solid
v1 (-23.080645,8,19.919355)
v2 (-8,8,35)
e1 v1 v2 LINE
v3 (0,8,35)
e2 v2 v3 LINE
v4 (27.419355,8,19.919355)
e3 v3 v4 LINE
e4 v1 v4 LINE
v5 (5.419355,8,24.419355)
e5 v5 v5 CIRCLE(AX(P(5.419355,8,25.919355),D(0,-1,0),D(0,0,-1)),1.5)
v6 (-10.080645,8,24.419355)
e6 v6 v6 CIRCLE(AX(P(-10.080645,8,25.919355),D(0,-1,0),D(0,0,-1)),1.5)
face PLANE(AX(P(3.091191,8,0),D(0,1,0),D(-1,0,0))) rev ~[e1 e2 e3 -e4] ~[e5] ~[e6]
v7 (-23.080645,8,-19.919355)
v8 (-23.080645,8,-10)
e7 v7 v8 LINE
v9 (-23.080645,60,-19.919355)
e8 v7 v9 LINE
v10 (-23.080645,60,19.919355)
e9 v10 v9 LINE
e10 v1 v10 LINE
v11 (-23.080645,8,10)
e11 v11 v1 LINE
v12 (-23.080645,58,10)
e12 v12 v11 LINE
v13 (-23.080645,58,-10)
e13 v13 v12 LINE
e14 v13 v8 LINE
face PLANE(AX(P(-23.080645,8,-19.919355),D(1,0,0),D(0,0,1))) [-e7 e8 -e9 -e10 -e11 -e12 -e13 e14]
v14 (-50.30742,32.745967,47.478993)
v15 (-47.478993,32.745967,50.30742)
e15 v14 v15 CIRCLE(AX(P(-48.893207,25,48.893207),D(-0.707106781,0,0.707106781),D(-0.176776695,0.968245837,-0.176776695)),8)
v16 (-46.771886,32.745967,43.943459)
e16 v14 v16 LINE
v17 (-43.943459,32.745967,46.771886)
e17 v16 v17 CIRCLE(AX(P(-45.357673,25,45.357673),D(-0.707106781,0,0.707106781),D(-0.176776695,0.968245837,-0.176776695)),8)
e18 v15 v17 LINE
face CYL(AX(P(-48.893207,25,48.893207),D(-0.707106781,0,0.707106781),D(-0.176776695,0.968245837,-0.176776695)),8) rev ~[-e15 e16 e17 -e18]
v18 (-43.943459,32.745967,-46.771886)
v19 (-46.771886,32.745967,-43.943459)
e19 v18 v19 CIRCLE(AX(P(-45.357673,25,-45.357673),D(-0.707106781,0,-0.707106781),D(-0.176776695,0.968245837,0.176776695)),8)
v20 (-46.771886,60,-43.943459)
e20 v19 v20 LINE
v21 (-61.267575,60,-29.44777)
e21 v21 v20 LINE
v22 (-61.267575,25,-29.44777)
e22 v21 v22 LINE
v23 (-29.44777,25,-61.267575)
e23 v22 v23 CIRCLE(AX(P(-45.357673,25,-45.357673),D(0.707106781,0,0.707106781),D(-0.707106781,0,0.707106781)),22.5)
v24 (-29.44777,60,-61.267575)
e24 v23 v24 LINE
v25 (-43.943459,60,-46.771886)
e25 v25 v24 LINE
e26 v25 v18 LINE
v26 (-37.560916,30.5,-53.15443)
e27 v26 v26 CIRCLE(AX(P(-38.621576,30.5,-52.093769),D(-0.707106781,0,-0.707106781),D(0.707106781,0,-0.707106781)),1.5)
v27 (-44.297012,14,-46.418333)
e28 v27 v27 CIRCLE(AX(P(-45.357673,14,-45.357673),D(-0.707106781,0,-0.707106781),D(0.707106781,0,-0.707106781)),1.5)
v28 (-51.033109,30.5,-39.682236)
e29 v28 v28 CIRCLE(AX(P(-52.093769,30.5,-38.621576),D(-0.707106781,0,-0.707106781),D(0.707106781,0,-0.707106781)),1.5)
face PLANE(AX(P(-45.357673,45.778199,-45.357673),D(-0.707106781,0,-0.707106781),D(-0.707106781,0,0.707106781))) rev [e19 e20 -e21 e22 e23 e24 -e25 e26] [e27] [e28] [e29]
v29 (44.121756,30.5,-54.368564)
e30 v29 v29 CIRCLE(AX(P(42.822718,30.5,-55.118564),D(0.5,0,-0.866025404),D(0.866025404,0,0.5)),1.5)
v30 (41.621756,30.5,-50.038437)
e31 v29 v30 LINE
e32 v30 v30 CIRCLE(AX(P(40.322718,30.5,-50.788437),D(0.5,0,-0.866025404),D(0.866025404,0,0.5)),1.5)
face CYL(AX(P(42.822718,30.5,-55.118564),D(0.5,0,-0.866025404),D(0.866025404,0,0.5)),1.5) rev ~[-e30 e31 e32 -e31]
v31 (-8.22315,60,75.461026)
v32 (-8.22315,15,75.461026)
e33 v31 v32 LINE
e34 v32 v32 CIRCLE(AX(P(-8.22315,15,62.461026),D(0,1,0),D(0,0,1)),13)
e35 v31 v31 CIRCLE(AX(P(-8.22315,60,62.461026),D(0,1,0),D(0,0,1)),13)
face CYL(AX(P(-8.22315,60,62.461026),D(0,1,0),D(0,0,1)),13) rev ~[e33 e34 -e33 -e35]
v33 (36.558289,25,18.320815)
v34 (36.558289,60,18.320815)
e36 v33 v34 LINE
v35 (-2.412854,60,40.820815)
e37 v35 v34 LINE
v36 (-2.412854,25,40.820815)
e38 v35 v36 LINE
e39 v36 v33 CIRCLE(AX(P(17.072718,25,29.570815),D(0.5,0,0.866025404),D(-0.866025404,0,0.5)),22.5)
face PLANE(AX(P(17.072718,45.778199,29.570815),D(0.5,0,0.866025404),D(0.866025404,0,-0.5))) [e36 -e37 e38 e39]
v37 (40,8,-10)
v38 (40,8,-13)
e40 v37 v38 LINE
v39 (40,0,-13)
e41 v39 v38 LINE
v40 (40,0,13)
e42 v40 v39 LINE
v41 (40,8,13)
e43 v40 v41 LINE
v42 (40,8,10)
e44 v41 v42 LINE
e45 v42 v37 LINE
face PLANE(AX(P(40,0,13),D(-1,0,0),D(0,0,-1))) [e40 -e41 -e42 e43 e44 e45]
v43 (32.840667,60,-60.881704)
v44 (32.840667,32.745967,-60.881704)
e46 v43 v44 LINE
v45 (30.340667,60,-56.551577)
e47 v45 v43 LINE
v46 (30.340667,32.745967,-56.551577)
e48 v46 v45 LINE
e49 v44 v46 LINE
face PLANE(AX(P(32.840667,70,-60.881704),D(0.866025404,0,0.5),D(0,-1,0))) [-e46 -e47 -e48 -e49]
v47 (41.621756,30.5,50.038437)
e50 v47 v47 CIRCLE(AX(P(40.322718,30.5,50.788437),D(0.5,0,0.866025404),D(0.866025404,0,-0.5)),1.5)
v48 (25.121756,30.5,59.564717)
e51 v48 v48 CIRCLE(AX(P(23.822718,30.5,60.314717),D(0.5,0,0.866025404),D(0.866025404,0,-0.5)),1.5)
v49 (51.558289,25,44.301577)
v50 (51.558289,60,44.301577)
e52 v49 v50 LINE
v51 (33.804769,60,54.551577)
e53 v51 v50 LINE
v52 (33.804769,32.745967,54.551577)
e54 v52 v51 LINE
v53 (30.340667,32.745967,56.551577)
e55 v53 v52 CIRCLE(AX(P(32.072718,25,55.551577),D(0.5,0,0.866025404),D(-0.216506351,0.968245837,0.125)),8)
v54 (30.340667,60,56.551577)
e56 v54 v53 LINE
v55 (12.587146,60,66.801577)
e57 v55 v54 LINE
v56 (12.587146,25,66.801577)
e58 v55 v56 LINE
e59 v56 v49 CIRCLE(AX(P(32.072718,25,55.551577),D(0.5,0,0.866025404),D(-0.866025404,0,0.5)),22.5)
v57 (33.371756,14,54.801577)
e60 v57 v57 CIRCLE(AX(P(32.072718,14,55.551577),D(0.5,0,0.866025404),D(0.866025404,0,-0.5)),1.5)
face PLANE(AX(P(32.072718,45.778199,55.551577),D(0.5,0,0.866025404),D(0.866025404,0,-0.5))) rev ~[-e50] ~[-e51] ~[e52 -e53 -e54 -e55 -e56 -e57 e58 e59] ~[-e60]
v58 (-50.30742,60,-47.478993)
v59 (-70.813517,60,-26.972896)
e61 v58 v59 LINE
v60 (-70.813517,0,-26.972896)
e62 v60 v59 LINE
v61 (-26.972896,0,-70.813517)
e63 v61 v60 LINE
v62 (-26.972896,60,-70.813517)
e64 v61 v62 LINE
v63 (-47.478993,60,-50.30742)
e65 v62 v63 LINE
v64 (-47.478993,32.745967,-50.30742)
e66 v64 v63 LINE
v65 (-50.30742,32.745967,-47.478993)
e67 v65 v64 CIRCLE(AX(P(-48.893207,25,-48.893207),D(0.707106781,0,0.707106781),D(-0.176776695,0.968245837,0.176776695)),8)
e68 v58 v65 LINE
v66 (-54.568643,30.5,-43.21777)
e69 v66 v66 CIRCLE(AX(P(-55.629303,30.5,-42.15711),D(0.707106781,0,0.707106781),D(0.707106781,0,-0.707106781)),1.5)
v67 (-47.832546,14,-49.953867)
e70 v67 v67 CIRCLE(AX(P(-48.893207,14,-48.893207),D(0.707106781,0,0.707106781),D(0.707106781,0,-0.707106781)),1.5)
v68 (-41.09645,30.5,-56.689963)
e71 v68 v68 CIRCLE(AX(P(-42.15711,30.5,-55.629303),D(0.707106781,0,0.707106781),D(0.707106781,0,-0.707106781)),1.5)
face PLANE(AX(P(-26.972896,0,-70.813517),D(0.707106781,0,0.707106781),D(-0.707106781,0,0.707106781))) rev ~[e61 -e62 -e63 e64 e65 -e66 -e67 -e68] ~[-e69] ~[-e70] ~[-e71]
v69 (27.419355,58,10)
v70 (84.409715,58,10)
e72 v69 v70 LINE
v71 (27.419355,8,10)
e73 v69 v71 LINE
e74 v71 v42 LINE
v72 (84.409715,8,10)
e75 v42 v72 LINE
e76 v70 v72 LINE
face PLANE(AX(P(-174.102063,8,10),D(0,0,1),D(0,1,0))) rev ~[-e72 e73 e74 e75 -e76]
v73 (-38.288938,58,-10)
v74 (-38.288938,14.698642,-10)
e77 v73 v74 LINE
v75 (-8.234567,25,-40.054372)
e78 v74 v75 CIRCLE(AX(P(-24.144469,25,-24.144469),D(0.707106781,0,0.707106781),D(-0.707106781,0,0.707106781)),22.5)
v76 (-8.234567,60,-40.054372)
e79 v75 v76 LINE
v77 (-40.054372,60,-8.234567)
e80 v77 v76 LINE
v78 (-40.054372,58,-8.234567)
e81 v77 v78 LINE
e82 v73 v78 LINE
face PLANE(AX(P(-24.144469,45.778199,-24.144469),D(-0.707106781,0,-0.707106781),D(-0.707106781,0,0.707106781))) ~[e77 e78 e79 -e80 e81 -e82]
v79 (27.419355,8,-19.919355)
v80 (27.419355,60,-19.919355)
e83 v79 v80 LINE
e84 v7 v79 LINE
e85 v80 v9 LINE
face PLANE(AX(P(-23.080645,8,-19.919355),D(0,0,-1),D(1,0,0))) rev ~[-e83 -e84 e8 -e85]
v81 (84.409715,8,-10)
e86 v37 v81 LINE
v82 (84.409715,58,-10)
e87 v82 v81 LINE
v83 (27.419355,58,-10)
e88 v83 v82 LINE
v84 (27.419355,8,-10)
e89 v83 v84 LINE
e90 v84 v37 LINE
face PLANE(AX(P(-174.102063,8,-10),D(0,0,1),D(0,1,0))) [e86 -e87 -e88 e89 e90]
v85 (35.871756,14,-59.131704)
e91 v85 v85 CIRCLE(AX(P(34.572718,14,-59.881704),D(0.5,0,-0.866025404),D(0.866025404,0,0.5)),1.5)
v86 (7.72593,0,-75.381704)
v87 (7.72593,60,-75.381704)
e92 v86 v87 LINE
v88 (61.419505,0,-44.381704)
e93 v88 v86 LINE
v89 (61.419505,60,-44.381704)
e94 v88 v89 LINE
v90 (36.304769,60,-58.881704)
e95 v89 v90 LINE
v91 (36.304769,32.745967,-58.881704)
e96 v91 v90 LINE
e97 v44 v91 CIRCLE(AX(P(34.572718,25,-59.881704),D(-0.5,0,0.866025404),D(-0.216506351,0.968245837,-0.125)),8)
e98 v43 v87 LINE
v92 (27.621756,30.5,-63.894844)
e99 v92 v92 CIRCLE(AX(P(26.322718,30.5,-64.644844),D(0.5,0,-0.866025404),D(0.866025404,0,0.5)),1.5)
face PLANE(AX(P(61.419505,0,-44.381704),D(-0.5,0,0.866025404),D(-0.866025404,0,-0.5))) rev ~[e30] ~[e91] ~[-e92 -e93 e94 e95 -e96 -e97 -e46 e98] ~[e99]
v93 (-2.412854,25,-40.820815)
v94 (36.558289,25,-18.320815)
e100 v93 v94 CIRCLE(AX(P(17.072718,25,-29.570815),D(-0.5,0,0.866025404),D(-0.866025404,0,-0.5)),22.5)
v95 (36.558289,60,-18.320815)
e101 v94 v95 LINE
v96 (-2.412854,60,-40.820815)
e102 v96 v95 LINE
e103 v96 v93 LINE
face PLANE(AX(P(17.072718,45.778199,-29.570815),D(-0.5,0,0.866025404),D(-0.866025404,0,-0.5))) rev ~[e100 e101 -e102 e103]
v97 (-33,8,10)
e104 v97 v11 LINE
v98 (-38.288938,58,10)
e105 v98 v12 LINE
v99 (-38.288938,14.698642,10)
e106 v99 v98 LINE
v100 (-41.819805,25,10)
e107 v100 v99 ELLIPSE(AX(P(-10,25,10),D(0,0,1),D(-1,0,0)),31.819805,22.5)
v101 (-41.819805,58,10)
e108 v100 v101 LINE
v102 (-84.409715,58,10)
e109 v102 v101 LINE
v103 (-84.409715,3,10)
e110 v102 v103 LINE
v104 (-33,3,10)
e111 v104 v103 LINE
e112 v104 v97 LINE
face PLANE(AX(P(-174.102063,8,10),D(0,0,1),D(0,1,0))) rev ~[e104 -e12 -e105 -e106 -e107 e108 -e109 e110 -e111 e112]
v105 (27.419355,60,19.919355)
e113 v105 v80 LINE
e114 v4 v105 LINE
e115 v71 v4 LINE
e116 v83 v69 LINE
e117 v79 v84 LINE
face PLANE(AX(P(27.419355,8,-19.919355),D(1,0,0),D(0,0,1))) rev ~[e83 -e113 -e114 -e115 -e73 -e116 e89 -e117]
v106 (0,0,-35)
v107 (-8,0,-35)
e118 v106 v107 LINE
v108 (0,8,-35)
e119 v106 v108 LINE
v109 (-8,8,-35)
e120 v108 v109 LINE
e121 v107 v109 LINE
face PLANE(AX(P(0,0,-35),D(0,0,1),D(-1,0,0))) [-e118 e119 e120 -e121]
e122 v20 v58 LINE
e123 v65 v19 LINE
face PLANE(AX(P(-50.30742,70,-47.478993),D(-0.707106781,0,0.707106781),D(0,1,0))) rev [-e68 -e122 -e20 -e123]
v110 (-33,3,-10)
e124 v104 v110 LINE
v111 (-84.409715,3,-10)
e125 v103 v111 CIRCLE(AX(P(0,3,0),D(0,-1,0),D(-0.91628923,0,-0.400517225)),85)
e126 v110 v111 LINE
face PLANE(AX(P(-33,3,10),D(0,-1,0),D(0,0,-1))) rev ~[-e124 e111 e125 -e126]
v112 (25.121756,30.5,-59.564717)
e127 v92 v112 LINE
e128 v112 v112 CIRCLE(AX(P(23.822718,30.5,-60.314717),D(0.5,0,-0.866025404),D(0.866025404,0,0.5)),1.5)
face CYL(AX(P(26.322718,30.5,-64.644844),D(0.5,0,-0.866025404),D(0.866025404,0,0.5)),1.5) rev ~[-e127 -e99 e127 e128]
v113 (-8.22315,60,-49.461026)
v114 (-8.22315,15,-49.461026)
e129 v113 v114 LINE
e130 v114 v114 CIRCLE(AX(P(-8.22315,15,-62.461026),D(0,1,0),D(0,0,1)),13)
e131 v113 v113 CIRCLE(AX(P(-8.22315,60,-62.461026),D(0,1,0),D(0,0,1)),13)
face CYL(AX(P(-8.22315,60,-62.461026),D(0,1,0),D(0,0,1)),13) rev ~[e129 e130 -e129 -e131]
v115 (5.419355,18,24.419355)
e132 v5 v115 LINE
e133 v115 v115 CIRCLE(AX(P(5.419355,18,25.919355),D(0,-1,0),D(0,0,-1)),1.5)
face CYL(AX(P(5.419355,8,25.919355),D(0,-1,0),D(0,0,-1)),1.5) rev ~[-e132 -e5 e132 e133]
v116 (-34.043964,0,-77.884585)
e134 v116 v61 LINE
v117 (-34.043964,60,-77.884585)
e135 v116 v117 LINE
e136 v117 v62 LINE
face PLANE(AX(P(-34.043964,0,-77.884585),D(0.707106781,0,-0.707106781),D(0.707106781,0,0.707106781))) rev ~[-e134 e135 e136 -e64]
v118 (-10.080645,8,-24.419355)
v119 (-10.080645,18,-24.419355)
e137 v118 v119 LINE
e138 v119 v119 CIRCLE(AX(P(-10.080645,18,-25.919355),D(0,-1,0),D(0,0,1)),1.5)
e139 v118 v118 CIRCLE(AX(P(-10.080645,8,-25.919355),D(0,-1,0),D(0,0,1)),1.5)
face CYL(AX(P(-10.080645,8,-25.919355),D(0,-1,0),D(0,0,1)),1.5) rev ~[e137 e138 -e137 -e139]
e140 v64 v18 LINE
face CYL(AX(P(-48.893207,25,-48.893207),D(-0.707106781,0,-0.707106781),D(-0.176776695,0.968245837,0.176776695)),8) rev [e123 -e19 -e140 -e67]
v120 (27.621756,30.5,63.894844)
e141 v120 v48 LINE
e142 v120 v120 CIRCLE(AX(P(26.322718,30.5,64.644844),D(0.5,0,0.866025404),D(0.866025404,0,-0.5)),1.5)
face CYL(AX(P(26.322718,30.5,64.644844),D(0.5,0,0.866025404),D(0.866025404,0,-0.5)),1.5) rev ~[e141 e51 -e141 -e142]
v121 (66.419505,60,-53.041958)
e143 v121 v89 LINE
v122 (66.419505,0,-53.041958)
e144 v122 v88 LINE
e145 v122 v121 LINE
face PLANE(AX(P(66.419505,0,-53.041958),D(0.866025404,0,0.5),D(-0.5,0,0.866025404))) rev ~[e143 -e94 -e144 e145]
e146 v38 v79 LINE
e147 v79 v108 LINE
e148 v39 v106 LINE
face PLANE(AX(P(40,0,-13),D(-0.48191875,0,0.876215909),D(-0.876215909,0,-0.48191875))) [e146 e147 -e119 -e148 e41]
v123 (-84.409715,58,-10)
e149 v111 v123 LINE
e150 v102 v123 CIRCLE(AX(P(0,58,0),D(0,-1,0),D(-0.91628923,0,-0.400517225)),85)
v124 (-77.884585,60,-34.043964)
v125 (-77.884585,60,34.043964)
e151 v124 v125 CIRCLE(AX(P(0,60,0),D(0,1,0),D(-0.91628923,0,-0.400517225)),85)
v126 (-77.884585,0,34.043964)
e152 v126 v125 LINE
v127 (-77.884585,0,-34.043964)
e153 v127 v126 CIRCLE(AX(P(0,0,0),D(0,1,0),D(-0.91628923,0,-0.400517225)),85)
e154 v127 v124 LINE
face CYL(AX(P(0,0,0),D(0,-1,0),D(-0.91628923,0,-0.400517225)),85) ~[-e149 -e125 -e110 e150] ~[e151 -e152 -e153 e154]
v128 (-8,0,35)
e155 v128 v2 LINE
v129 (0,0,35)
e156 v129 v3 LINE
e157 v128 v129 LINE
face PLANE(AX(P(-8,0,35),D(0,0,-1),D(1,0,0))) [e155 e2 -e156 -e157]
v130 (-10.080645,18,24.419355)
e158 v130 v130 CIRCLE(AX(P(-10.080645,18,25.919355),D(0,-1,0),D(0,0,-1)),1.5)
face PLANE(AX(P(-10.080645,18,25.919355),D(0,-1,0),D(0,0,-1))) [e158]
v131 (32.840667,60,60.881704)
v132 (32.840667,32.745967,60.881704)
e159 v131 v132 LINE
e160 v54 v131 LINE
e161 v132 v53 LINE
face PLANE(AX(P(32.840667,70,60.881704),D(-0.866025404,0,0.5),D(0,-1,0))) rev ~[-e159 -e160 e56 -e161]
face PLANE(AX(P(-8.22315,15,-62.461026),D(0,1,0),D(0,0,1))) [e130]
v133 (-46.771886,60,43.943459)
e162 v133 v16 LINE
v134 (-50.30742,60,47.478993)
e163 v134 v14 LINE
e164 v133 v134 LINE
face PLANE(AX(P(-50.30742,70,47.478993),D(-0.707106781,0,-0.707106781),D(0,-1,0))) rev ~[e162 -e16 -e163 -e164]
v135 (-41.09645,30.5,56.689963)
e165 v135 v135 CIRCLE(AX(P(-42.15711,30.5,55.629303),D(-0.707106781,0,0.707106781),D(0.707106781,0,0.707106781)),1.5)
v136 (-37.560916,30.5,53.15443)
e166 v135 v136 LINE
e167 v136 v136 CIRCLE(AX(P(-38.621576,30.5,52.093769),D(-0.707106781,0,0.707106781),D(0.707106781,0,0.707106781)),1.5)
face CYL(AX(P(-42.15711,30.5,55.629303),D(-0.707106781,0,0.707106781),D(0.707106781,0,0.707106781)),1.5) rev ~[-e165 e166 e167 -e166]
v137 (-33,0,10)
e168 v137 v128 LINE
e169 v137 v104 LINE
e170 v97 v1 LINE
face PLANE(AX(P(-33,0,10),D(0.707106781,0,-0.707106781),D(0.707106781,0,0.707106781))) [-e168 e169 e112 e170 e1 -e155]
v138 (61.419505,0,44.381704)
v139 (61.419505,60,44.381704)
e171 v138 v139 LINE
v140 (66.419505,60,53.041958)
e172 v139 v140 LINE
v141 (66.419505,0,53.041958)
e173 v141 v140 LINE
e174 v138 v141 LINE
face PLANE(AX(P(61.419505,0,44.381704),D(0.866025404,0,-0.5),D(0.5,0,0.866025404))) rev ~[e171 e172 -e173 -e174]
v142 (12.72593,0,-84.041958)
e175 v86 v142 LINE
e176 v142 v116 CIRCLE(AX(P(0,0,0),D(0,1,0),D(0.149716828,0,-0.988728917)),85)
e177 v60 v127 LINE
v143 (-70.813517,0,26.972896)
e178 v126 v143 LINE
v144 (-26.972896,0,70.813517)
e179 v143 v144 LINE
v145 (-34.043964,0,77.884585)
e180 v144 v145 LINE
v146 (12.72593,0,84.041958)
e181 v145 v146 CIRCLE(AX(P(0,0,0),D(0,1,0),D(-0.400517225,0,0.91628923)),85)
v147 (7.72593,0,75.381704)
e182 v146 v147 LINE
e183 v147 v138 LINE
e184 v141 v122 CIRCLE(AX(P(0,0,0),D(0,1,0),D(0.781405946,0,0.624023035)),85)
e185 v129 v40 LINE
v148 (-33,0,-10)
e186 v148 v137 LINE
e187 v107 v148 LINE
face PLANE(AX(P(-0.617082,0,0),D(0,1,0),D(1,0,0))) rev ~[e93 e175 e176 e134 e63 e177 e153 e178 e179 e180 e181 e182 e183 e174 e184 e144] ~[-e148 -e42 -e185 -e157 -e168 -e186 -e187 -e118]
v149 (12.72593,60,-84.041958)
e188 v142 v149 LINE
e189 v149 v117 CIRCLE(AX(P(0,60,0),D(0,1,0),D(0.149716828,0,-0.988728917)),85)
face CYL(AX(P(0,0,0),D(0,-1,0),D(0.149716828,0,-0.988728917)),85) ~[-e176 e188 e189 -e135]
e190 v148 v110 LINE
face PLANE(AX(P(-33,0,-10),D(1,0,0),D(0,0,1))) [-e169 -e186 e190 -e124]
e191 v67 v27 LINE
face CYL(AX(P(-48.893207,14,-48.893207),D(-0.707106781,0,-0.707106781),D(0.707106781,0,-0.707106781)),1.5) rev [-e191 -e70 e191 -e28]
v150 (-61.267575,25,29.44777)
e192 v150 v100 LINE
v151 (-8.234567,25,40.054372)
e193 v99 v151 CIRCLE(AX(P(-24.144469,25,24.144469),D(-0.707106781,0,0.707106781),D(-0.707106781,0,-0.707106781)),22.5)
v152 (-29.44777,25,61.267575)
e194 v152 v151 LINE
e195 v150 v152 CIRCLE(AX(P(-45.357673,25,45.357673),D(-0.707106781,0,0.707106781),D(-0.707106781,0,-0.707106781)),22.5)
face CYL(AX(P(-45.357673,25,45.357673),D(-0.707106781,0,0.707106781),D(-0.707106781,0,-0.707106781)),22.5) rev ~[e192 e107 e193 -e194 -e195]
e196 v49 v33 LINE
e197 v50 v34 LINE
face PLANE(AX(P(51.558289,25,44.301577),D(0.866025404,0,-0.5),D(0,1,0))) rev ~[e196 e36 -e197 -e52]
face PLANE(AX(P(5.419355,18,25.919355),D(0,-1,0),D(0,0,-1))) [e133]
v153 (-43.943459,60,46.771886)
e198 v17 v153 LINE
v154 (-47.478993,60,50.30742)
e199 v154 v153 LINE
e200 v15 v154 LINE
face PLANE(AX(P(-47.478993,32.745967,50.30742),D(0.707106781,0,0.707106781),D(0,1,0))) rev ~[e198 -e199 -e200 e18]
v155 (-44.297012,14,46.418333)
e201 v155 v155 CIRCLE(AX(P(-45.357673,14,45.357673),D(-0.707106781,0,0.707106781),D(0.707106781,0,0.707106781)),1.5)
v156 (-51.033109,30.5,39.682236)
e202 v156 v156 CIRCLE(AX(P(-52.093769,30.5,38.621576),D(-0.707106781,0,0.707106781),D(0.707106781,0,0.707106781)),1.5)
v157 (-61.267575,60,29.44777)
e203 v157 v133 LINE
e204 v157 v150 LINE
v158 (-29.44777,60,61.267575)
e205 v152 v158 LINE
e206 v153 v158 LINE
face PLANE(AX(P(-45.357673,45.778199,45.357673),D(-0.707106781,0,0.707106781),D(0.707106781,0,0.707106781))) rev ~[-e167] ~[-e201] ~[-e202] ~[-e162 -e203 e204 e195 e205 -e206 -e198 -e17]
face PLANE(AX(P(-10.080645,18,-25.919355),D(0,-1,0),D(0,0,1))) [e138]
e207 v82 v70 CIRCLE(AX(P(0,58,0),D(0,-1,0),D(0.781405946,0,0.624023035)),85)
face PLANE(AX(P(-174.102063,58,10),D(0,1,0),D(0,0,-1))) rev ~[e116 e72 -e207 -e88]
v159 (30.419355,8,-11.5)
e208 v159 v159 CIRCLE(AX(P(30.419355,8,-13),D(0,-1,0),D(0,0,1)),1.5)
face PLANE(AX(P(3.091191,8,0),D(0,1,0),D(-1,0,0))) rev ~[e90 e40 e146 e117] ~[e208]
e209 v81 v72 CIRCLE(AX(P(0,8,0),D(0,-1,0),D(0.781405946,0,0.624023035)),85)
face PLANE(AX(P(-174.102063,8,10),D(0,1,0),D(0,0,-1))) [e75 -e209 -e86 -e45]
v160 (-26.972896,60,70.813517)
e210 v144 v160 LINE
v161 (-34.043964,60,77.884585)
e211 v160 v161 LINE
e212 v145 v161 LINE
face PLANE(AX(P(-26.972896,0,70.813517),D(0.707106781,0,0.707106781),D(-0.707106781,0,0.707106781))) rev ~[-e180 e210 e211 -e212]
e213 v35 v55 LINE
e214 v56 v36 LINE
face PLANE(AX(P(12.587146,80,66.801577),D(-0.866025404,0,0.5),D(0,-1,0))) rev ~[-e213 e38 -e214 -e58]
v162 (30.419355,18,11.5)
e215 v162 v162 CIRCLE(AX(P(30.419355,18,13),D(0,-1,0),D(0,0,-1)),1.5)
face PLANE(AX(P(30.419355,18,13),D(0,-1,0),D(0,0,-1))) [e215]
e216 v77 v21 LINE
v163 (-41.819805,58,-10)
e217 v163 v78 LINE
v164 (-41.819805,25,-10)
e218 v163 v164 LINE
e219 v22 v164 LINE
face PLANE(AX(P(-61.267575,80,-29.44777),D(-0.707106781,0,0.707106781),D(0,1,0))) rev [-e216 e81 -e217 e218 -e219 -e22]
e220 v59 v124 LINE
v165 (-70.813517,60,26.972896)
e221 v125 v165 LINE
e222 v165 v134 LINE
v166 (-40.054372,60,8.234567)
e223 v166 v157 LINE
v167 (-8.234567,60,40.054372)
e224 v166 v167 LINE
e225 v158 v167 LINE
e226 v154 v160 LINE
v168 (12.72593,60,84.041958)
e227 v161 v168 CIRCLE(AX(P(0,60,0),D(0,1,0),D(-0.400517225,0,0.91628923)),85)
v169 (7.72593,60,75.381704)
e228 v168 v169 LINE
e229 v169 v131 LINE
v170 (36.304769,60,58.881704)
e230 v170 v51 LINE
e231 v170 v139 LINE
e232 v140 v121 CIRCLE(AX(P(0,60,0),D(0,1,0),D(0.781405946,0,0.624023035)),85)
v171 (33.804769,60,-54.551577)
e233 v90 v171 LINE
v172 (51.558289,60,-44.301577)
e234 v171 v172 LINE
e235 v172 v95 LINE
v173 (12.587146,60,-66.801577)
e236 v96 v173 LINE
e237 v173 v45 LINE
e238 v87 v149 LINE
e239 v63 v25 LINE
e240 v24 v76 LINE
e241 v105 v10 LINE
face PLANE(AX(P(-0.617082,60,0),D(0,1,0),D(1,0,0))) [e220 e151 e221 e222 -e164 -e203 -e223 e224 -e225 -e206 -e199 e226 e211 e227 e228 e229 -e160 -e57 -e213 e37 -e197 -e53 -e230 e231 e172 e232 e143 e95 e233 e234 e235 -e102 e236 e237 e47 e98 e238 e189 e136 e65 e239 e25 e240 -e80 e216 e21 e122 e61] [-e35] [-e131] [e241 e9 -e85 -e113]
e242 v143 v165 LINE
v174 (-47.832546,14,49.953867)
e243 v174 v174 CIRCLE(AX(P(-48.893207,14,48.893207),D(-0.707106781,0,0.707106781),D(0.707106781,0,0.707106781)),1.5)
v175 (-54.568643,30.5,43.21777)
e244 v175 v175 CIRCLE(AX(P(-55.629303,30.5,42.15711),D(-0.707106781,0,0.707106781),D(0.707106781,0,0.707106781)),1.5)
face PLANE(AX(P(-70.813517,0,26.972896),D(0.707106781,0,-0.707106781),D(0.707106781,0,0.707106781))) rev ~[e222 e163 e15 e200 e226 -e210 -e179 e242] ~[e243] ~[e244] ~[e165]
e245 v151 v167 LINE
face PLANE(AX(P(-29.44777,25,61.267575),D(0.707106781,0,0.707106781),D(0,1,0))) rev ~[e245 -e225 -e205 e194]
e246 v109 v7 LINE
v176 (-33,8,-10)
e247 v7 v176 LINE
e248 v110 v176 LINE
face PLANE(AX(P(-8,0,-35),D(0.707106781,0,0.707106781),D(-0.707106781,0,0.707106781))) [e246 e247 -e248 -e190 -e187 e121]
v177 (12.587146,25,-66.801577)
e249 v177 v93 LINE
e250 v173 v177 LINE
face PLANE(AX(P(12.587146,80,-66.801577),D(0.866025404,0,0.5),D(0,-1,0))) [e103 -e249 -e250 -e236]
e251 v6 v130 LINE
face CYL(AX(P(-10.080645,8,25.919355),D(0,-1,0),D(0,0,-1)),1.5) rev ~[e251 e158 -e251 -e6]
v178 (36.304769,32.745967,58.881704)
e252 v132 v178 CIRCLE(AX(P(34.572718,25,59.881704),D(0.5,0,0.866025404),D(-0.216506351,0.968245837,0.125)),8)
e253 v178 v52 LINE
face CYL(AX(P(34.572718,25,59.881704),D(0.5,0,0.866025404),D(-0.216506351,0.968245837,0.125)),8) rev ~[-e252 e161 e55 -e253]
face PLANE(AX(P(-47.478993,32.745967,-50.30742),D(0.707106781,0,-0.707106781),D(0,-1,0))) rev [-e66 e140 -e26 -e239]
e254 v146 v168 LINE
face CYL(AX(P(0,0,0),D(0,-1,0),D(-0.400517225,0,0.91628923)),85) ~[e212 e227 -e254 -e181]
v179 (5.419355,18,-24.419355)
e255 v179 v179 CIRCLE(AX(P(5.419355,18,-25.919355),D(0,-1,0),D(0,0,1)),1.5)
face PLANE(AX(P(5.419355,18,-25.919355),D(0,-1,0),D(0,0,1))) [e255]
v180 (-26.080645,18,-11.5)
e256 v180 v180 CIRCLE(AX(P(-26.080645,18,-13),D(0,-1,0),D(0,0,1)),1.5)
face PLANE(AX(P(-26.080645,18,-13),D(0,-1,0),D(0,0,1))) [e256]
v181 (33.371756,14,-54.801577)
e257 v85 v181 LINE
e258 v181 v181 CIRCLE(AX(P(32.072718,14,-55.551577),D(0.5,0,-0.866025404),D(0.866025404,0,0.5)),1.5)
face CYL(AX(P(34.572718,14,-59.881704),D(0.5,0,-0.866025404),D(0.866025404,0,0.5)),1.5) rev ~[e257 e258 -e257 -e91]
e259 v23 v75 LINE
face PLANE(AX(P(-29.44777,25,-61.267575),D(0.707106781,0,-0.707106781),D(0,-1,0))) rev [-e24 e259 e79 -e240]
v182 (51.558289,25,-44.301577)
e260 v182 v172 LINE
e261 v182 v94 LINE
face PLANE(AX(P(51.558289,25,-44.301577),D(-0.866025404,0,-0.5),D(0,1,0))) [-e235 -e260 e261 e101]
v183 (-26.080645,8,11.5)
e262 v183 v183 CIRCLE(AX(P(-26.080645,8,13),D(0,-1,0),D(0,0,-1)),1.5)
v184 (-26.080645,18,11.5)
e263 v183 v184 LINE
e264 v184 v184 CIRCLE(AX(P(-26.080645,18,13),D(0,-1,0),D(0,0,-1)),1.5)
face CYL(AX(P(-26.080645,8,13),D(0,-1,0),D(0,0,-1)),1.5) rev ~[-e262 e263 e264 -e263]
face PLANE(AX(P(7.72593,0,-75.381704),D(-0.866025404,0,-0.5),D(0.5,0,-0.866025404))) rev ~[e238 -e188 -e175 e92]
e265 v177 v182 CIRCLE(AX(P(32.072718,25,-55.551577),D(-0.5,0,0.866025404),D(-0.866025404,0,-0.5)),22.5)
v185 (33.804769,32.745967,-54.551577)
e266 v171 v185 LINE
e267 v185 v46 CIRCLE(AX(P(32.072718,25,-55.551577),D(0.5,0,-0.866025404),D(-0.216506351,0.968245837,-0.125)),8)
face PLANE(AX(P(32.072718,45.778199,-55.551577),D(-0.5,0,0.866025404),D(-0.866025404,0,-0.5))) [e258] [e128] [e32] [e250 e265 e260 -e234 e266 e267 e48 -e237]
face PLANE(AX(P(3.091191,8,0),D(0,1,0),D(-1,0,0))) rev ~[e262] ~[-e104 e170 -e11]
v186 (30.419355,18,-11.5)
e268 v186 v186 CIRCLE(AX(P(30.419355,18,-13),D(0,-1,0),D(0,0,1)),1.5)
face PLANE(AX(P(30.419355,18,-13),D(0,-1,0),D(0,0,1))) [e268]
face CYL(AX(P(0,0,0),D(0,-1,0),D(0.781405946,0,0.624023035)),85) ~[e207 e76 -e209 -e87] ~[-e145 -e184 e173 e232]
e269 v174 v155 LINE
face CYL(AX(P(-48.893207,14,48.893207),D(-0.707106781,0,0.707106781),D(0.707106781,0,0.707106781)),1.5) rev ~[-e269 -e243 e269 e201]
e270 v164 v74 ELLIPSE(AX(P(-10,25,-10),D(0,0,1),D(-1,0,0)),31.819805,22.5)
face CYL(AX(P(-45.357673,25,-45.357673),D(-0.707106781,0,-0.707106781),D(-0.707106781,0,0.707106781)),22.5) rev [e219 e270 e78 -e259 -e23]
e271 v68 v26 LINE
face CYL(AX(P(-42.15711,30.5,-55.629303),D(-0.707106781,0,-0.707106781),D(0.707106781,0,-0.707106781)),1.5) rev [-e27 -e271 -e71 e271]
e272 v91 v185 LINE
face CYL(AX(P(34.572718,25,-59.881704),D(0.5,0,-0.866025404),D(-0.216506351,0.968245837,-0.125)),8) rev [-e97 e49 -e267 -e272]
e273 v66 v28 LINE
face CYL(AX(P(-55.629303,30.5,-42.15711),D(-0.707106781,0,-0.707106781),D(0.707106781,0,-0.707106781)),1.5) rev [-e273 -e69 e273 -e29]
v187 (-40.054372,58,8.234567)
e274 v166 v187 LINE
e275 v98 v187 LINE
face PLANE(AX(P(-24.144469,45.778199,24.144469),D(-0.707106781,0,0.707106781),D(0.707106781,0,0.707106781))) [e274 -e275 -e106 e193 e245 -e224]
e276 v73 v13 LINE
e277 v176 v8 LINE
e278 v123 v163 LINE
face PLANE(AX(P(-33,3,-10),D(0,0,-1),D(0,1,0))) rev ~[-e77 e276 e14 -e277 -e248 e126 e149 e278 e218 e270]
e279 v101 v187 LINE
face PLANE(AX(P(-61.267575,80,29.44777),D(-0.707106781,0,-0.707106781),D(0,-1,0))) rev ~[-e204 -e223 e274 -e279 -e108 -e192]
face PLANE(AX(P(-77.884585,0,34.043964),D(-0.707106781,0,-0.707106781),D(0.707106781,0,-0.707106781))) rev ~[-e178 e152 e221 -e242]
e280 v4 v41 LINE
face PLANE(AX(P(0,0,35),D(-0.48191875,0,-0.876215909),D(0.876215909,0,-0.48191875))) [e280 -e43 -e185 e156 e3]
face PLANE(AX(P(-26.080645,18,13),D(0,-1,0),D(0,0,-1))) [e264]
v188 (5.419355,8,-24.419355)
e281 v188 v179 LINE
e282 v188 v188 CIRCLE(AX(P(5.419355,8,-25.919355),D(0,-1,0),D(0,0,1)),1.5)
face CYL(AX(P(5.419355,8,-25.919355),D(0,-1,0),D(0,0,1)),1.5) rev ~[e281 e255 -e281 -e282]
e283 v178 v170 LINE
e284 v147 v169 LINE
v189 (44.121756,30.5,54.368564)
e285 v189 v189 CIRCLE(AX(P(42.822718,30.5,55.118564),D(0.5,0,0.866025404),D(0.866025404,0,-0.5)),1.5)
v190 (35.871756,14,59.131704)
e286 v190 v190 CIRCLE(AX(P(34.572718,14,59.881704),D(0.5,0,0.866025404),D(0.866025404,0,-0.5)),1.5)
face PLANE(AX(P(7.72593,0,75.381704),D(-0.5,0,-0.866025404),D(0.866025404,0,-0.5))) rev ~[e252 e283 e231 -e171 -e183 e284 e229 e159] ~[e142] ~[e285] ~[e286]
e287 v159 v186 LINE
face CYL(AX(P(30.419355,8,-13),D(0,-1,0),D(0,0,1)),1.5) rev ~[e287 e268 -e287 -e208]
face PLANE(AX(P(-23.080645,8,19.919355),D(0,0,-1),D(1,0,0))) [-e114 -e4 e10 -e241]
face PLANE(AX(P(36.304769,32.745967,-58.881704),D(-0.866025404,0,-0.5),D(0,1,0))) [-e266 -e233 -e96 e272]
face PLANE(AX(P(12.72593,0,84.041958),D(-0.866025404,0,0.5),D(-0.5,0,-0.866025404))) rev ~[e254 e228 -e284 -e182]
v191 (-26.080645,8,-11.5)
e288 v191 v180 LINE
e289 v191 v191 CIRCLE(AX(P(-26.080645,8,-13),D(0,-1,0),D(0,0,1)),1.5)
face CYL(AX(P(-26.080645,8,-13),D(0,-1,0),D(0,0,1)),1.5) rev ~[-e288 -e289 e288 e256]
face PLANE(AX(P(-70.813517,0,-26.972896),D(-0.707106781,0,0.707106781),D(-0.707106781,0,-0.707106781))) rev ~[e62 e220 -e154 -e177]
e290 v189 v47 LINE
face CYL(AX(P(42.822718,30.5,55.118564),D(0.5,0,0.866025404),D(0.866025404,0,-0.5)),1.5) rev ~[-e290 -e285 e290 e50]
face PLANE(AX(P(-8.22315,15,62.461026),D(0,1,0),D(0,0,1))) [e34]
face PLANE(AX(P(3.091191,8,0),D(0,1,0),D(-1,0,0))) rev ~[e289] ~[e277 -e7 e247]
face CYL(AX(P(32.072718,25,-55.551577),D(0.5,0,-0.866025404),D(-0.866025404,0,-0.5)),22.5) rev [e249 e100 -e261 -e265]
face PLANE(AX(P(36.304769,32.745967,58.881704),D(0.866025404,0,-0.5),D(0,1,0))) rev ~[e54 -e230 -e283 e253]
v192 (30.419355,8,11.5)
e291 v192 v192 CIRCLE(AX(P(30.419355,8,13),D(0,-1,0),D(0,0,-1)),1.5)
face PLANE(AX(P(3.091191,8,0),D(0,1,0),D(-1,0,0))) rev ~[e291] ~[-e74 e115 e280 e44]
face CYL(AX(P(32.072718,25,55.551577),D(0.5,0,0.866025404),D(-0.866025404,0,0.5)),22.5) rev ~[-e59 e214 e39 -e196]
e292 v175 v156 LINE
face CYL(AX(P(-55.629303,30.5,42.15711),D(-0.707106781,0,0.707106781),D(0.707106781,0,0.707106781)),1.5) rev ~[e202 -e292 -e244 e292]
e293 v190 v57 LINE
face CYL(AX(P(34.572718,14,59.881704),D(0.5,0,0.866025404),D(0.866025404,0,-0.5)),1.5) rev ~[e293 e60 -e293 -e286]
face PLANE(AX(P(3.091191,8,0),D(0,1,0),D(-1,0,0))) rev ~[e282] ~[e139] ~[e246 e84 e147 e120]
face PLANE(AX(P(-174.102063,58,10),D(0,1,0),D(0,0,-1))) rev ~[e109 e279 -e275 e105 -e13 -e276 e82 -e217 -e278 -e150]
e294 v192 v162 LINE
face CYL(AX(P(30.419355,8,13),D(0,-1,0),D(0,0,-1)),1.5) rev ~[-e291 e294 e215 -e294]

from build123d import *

# Parameters (mm, degrees)
BASE_DEPTH                 = 60
MOTOR_TRASEIRO_START       = -5
MOTOR_TRASEIRO_DEPTH       = 30
ESBO_O3_10_R               = 1.5
MOTOR_EIXO_DEPTH           = 25
PADR_OCIRCULAR1_COUNT      = 2
PADR_OCIRCULAR1_ANGLE      = 285
ESPELHAR3_START            = -5
ESPELHAR3_COPY_1_DEPTH     = 30
ESPELHAR3_COPY_2_SKETCH_R  = 1.5
ESPELHAR3_COPY_2_DEPTH     = 25
ESBO_O16_R                 = 13
CAPACITORES_DEPTH          = 45
CORTE_EXTRUS_O1_DEPTH      = 8
ESBO_O19_W                 = 50.5
ESBO_O19_H                 = 39.838709678
CORTE_EXTRUS_O2_DEPTH      = 131.973279718
CORTE_EXTRUS_O3_DEPTH      = 151.021417999
CORTE_EXTRUS_O3_DEPTH_BACK = 151.021417999
ESBO_O21_W                 = 20
ESBO_O21_H                 = 50
ESBO_O24_W                 = 20
ESBO_O24_H                 = 5
CORTE_EXTRUS_O6_DEPTH      = 158.318148985
ESBO_O25_R                 = 1.5
CORTE_EXTRUS_O7_DEPTH      = 10


with BuildPart() as part:
    # Esboço1 → Base (new body)
    with BuildSketch(Plane(origin=(0, 0, 0), x_dir=(1, 0, 0), z_dir=(0, 1, 0))):
        with BuildLine():
            Line((-70.813516723, -26.97289629), (-26.97289629, -70.813516723))
            Line((-26.97289629, -70.813516723), (-34.043964102, -77.884584535))
            ThreePointArc((-34.043964102, -77.884584535), (-11.094726339, -84.272813217), (12.725930358, -84.041957953))
            Line((12.725930358, -84.041957953), (7.725930358, -75.381703915))
            Line((7.725930358, -75.381703915), (61.419505392, -44.381703915))
            Line((61.419505392, -44.381703915), (66.419505392, -53.041957953))
            ThreePointArc((66.419505392, -53.041957953), (85, 0), (66.419505392, 53.041957953))
            Line((66.419505392, 53.041957953), (61.419505392, 44.381703915))
            Line((61.419505392, 44.381703915), (7.725930358, 75.381703915))
            Line((7.725930358, 75.381703915), (12.725930358, 84.041957953))
            ThreePointArc((12.725930358, 84.041957953), (-11.094726339, 84.272813217), (-34.043964102, 77.884584535))
            Line((-34.043964102, 77.884584535), (-26.97289629, 70.813516723))
            Line((-26.97289629, 70.813516723), (-70.813516723, 26.97289629))
            Line((-70.813516723, 26.97289629), (-77.884584535, 34.043964102))
            ThreePointArc((-77.884584535, 34.043964102), (-85, 0), (-77.884584535, -34.043964102))
            Line((-77.884584535, -34.043964102), (-70.813516723, -26.97289629))
        make_face()
    extrude(amount=BASE_DEPTH)

    # Esboço3 → Motor-traseiro (cut)
    with BuildSketch(Plane(origin=(-48.893206507, 0, 48.893206507), x_dir=(0.7071067811865515, 0, 0.7071067811865436), z_dir=(-0.7071067811865436, 0, 0.7071067811865515)).offset(MOTOR_TRASEIRO_START)):
        with BuildLine():
            ThreePointArc((-22.5, 25), (0, 2.5), (22.5, 25))
            Line((22.5, 25), (22.5, 80))
            Line((22.5, 80), (-22.5, 80))
            Line((-22.5, 80), (-22.5, 25))
        make_face()
    motor_traseiro = extrude(amount=-MOTOR_TRASEIRO_DEPTH, mode=Mode.SUBTRACT)

    # Esboço3<10> → Motor-eixo (cut)
    with BuildSketch(Plane(origin=(-48.893206507, 0, 48.893206507), x_dir=(0.7071067811865515, 0, 0.7071067811865436), z_dir=(-0.7071067811865436, 0, 0.7071067811865515))):
        with BuildLine():
            Line((2, 32.745966692), (2, 70))
            Line((2, 70), (-2, 70))
            Line((-2, 70), (-2, 32.745966692))
            ThreePointArc((-2, 32.745966692), (0, 17), (2, 32.745966692))
        make_face()
        with Locations((0, 14)):
            Circle(ESBO_O3_10_R)
        with Locations((-9.526279442, 30.5)):
            Circle(ESBO_O3_10_R)
        with Locations((9.526279442, 30.5)):
            Circle(ESBO_O3_10_R)
    motor_eixo = extrude(amount=-MOTOR_EIXO_DEPTH, mode=Mode.SUBTRACT)

    # PadrãoCircular1: Motor-traseiro, Motor-eixo ×2 about axis
    padr_ocircular1_axis = Axis((0, 60, 0), (0, -1, 0))
    add([motor_traseiro.rotate(padr_ocircular1_axis, i * PADR_OCIRCULAR1_ANGLE / (PADR_OCIRCULAR1_COUNT - 1)) for i in range(1, PADR_OCIRCULAR1_COUNT)], mode=Mode.SUBTRACT)
    add([motor_eixo.rotate(padr_ocircular1_axis, i * PADR_OCIRCULAR1_ANGLE / (PADR_OCIRCULAR1_COUNT - 1)) for i in range(1, PADR_OCIRCULAR1_COUNT)], mode=Mode.SUBTRACT)

    # Espelhar3: Motor-traseiro, Motor-eixo across plane
    add(motor_traseiro.mirror(Plane.XY), mode=Mode.SUBTRACT)
    add(motor_eixo.mirror(Plane.XY), mode=Mode.SUBTRACT)

    # Espelhar3 copy 1 sketch → Espelhar3 copy 1 (cut)
    with BuildSketch(Plane(origin=(34.572717875, 0, -59.881703915), x_dir=(0.8660254037844427, 0, 0.499999999999993), z_dir=(0.499999999999993, 0, -0.8660254037844427)).offset(ESPELHAR3_START)):
        with BuildLine():
            ThreePointArc((-22.5, -25), (0, -2.5), (22.5, -25))
            Line((22.5, -25), (22.5, -80))
            Line((22.5, -80), (-22.5, -80))
            Line((-22.5, -80), (-22.5, -25))
        make_face()
    extrude(amount=-ESPELHAR3_COPY_1_DEPTH, mode=Mode.SUBTRACT)

    # Espelhar3 copy 2 sketch → Espelhar3 copy 2 (cut)
    with BuildSketch(Plane(origin=(34.572717875, 0, -59.881703915), x_dir=(0.8660254037844427, 0, 0.499999999999993), z_dir=(0.499999999999993, 0, -0.8660254037844427))):
        with BuildLine():
            Line((2, -32.745966692), (2, -70))
            Line((2, -70), (-2, -70))
            Line((-2, -70), (-2, -32.745966692))
            ThreePointArc((-2, -32.745966692), (0, -17), (2, -32.745966692))
        make_face()
        with Locations((0, -14)):
            Circle(ESPELHAR3_COPY_2_SKETCH_R)
        with Locations((-9.526279442, -30.5)):
            Circle(ESPELHAR3_COPY_2_SKETCH_R)
        with Locations((9.526279442, -30.5)):
            Circle(ESPELHAR3_COPY_2_SKETCH_R)
    extrude(amount=-ESPELHAR3_COPY_2_DEPTH, mode=Mode.SUBTRACT)

    # Esboço16 → Capacitores (cut)
    with BuildSketch(Plane(origin=(0, 60, 0), x_dir=(1, 0, 0), z_dir=(0, 1, 0))):
        with Locations(Location((-8.22315011, -62.461026267, 0), (0, 0, 270))):
            Circle(ESBO_O16_R)
        with Locations(Location((-8.22315011, 62.461026267, 0), (0, 0, 270))):
            Circle(ESBO_O16_R)
    extrude(amount=-CAPACITORES_DEPTH, mode=Mode.SUBTRACT)

    # Esboço18 → Corte-extrusão1 (cut)
    with BuildSketch(Plane.XZ):
        Polygon((-33, -10), (-33, 10), (-8, 35), (0, 35), (40, 13), (40, -13), (0, -35), (-8, -35), align=None)
    extrude(amount=-CORTE_EXTRUS_O1_DEPTH, mode=Mode.SUBTRACT)

    # Esboço19 → Corte-extrusão2 (cut, through all)
    with BuildSketch(Plane.XZ.offset(-8)):
        with Locations((2.169354839, 0)):
            Rectangle(ESBO_O19_W, ESBO_O19_H)
    extrude(amount=-CORTE_EXTRUS_O2_DEPTH, mode=Mode.SUBTRACT)

    # Esboço21 → Corte-extrusão3 (cut, two sides: drawn at the far end of the back side and taken through both)
    with BuildSketch(Plane(origin=(-23.080645161, 0, 0), x_dir=(0, 0, -1), z_dir=(1, 0, 0)).offset(-CORTE_EXTRUS_O3_DEPTH_BACK)):
        with Locations((0, 33)):
            Rectangle(ESBO_O21_W, ESBO_O21_H)
    extrude(amount=CORTE_EXTRUS_O3_DEPTH + CORTE_EXTRUS_O3_DEPTH_BACK, mode=Mode.SUBTRACT)

    # Esboço24 → Corte-extrusão6 (cut, through all)
    with BuildSketch(Plane(origin=(-33, 0, 0), x_dir=(0, 0, -1), z_dir=(1, 0, 0))):
        with Locations((0, 5.5)):
            Rectangle(ESBO_O24_W, ESBO_O24_H)
    extrude(amount=-CORTE_EXTRUS_O6_DEPTH, mode=Mode.SUBTRACT)

    # Esboço25 → Corte-extrusão7 (cut)
    with BuildSketch(Plane.XZ.offset(-8)):
        with Locations(Location((-26.080645161, 13, 0), (0, 0, 270))):
            Circle(ESBO_O25_R)
        with Locations(Location((-10.080645161, 25.919354839, 0), (0, 0, 270))):
            Circle(ESBO_O25_R)
        with Locations(Location((5.419354839, 25.919354839, 0), (0, 0, 270))):
            Circle(ESBO_O25_R)
        with Locations(Location((30.419354839, 13, 0), (0, 0, 270))):
            Circle(ESBO_O25_R)
        with Locations(Location((30.419354839, -13, 0), (0, 0, 90))):
            Circle(ESBO_O25_R)
        with Locations(Location((5.419354839, -25.919354839, 0), (0, 0, 90))):
            Circle(ESBO_O25_R)
        with Locations(Location((-10.080645161, -25.919354839, 0), (0, 0, 90))):
            Circle(ESBO_O25_R)
        with Locations(Location((-26.080645161, -13, 0), (0, 0, 90))):
            Circle(ESBO_O25_R)
    extrude(amount=-CORTE_EXTRUS_O7_DEPTH, mode=Mode.SUBTRACT)


solid = part.part
